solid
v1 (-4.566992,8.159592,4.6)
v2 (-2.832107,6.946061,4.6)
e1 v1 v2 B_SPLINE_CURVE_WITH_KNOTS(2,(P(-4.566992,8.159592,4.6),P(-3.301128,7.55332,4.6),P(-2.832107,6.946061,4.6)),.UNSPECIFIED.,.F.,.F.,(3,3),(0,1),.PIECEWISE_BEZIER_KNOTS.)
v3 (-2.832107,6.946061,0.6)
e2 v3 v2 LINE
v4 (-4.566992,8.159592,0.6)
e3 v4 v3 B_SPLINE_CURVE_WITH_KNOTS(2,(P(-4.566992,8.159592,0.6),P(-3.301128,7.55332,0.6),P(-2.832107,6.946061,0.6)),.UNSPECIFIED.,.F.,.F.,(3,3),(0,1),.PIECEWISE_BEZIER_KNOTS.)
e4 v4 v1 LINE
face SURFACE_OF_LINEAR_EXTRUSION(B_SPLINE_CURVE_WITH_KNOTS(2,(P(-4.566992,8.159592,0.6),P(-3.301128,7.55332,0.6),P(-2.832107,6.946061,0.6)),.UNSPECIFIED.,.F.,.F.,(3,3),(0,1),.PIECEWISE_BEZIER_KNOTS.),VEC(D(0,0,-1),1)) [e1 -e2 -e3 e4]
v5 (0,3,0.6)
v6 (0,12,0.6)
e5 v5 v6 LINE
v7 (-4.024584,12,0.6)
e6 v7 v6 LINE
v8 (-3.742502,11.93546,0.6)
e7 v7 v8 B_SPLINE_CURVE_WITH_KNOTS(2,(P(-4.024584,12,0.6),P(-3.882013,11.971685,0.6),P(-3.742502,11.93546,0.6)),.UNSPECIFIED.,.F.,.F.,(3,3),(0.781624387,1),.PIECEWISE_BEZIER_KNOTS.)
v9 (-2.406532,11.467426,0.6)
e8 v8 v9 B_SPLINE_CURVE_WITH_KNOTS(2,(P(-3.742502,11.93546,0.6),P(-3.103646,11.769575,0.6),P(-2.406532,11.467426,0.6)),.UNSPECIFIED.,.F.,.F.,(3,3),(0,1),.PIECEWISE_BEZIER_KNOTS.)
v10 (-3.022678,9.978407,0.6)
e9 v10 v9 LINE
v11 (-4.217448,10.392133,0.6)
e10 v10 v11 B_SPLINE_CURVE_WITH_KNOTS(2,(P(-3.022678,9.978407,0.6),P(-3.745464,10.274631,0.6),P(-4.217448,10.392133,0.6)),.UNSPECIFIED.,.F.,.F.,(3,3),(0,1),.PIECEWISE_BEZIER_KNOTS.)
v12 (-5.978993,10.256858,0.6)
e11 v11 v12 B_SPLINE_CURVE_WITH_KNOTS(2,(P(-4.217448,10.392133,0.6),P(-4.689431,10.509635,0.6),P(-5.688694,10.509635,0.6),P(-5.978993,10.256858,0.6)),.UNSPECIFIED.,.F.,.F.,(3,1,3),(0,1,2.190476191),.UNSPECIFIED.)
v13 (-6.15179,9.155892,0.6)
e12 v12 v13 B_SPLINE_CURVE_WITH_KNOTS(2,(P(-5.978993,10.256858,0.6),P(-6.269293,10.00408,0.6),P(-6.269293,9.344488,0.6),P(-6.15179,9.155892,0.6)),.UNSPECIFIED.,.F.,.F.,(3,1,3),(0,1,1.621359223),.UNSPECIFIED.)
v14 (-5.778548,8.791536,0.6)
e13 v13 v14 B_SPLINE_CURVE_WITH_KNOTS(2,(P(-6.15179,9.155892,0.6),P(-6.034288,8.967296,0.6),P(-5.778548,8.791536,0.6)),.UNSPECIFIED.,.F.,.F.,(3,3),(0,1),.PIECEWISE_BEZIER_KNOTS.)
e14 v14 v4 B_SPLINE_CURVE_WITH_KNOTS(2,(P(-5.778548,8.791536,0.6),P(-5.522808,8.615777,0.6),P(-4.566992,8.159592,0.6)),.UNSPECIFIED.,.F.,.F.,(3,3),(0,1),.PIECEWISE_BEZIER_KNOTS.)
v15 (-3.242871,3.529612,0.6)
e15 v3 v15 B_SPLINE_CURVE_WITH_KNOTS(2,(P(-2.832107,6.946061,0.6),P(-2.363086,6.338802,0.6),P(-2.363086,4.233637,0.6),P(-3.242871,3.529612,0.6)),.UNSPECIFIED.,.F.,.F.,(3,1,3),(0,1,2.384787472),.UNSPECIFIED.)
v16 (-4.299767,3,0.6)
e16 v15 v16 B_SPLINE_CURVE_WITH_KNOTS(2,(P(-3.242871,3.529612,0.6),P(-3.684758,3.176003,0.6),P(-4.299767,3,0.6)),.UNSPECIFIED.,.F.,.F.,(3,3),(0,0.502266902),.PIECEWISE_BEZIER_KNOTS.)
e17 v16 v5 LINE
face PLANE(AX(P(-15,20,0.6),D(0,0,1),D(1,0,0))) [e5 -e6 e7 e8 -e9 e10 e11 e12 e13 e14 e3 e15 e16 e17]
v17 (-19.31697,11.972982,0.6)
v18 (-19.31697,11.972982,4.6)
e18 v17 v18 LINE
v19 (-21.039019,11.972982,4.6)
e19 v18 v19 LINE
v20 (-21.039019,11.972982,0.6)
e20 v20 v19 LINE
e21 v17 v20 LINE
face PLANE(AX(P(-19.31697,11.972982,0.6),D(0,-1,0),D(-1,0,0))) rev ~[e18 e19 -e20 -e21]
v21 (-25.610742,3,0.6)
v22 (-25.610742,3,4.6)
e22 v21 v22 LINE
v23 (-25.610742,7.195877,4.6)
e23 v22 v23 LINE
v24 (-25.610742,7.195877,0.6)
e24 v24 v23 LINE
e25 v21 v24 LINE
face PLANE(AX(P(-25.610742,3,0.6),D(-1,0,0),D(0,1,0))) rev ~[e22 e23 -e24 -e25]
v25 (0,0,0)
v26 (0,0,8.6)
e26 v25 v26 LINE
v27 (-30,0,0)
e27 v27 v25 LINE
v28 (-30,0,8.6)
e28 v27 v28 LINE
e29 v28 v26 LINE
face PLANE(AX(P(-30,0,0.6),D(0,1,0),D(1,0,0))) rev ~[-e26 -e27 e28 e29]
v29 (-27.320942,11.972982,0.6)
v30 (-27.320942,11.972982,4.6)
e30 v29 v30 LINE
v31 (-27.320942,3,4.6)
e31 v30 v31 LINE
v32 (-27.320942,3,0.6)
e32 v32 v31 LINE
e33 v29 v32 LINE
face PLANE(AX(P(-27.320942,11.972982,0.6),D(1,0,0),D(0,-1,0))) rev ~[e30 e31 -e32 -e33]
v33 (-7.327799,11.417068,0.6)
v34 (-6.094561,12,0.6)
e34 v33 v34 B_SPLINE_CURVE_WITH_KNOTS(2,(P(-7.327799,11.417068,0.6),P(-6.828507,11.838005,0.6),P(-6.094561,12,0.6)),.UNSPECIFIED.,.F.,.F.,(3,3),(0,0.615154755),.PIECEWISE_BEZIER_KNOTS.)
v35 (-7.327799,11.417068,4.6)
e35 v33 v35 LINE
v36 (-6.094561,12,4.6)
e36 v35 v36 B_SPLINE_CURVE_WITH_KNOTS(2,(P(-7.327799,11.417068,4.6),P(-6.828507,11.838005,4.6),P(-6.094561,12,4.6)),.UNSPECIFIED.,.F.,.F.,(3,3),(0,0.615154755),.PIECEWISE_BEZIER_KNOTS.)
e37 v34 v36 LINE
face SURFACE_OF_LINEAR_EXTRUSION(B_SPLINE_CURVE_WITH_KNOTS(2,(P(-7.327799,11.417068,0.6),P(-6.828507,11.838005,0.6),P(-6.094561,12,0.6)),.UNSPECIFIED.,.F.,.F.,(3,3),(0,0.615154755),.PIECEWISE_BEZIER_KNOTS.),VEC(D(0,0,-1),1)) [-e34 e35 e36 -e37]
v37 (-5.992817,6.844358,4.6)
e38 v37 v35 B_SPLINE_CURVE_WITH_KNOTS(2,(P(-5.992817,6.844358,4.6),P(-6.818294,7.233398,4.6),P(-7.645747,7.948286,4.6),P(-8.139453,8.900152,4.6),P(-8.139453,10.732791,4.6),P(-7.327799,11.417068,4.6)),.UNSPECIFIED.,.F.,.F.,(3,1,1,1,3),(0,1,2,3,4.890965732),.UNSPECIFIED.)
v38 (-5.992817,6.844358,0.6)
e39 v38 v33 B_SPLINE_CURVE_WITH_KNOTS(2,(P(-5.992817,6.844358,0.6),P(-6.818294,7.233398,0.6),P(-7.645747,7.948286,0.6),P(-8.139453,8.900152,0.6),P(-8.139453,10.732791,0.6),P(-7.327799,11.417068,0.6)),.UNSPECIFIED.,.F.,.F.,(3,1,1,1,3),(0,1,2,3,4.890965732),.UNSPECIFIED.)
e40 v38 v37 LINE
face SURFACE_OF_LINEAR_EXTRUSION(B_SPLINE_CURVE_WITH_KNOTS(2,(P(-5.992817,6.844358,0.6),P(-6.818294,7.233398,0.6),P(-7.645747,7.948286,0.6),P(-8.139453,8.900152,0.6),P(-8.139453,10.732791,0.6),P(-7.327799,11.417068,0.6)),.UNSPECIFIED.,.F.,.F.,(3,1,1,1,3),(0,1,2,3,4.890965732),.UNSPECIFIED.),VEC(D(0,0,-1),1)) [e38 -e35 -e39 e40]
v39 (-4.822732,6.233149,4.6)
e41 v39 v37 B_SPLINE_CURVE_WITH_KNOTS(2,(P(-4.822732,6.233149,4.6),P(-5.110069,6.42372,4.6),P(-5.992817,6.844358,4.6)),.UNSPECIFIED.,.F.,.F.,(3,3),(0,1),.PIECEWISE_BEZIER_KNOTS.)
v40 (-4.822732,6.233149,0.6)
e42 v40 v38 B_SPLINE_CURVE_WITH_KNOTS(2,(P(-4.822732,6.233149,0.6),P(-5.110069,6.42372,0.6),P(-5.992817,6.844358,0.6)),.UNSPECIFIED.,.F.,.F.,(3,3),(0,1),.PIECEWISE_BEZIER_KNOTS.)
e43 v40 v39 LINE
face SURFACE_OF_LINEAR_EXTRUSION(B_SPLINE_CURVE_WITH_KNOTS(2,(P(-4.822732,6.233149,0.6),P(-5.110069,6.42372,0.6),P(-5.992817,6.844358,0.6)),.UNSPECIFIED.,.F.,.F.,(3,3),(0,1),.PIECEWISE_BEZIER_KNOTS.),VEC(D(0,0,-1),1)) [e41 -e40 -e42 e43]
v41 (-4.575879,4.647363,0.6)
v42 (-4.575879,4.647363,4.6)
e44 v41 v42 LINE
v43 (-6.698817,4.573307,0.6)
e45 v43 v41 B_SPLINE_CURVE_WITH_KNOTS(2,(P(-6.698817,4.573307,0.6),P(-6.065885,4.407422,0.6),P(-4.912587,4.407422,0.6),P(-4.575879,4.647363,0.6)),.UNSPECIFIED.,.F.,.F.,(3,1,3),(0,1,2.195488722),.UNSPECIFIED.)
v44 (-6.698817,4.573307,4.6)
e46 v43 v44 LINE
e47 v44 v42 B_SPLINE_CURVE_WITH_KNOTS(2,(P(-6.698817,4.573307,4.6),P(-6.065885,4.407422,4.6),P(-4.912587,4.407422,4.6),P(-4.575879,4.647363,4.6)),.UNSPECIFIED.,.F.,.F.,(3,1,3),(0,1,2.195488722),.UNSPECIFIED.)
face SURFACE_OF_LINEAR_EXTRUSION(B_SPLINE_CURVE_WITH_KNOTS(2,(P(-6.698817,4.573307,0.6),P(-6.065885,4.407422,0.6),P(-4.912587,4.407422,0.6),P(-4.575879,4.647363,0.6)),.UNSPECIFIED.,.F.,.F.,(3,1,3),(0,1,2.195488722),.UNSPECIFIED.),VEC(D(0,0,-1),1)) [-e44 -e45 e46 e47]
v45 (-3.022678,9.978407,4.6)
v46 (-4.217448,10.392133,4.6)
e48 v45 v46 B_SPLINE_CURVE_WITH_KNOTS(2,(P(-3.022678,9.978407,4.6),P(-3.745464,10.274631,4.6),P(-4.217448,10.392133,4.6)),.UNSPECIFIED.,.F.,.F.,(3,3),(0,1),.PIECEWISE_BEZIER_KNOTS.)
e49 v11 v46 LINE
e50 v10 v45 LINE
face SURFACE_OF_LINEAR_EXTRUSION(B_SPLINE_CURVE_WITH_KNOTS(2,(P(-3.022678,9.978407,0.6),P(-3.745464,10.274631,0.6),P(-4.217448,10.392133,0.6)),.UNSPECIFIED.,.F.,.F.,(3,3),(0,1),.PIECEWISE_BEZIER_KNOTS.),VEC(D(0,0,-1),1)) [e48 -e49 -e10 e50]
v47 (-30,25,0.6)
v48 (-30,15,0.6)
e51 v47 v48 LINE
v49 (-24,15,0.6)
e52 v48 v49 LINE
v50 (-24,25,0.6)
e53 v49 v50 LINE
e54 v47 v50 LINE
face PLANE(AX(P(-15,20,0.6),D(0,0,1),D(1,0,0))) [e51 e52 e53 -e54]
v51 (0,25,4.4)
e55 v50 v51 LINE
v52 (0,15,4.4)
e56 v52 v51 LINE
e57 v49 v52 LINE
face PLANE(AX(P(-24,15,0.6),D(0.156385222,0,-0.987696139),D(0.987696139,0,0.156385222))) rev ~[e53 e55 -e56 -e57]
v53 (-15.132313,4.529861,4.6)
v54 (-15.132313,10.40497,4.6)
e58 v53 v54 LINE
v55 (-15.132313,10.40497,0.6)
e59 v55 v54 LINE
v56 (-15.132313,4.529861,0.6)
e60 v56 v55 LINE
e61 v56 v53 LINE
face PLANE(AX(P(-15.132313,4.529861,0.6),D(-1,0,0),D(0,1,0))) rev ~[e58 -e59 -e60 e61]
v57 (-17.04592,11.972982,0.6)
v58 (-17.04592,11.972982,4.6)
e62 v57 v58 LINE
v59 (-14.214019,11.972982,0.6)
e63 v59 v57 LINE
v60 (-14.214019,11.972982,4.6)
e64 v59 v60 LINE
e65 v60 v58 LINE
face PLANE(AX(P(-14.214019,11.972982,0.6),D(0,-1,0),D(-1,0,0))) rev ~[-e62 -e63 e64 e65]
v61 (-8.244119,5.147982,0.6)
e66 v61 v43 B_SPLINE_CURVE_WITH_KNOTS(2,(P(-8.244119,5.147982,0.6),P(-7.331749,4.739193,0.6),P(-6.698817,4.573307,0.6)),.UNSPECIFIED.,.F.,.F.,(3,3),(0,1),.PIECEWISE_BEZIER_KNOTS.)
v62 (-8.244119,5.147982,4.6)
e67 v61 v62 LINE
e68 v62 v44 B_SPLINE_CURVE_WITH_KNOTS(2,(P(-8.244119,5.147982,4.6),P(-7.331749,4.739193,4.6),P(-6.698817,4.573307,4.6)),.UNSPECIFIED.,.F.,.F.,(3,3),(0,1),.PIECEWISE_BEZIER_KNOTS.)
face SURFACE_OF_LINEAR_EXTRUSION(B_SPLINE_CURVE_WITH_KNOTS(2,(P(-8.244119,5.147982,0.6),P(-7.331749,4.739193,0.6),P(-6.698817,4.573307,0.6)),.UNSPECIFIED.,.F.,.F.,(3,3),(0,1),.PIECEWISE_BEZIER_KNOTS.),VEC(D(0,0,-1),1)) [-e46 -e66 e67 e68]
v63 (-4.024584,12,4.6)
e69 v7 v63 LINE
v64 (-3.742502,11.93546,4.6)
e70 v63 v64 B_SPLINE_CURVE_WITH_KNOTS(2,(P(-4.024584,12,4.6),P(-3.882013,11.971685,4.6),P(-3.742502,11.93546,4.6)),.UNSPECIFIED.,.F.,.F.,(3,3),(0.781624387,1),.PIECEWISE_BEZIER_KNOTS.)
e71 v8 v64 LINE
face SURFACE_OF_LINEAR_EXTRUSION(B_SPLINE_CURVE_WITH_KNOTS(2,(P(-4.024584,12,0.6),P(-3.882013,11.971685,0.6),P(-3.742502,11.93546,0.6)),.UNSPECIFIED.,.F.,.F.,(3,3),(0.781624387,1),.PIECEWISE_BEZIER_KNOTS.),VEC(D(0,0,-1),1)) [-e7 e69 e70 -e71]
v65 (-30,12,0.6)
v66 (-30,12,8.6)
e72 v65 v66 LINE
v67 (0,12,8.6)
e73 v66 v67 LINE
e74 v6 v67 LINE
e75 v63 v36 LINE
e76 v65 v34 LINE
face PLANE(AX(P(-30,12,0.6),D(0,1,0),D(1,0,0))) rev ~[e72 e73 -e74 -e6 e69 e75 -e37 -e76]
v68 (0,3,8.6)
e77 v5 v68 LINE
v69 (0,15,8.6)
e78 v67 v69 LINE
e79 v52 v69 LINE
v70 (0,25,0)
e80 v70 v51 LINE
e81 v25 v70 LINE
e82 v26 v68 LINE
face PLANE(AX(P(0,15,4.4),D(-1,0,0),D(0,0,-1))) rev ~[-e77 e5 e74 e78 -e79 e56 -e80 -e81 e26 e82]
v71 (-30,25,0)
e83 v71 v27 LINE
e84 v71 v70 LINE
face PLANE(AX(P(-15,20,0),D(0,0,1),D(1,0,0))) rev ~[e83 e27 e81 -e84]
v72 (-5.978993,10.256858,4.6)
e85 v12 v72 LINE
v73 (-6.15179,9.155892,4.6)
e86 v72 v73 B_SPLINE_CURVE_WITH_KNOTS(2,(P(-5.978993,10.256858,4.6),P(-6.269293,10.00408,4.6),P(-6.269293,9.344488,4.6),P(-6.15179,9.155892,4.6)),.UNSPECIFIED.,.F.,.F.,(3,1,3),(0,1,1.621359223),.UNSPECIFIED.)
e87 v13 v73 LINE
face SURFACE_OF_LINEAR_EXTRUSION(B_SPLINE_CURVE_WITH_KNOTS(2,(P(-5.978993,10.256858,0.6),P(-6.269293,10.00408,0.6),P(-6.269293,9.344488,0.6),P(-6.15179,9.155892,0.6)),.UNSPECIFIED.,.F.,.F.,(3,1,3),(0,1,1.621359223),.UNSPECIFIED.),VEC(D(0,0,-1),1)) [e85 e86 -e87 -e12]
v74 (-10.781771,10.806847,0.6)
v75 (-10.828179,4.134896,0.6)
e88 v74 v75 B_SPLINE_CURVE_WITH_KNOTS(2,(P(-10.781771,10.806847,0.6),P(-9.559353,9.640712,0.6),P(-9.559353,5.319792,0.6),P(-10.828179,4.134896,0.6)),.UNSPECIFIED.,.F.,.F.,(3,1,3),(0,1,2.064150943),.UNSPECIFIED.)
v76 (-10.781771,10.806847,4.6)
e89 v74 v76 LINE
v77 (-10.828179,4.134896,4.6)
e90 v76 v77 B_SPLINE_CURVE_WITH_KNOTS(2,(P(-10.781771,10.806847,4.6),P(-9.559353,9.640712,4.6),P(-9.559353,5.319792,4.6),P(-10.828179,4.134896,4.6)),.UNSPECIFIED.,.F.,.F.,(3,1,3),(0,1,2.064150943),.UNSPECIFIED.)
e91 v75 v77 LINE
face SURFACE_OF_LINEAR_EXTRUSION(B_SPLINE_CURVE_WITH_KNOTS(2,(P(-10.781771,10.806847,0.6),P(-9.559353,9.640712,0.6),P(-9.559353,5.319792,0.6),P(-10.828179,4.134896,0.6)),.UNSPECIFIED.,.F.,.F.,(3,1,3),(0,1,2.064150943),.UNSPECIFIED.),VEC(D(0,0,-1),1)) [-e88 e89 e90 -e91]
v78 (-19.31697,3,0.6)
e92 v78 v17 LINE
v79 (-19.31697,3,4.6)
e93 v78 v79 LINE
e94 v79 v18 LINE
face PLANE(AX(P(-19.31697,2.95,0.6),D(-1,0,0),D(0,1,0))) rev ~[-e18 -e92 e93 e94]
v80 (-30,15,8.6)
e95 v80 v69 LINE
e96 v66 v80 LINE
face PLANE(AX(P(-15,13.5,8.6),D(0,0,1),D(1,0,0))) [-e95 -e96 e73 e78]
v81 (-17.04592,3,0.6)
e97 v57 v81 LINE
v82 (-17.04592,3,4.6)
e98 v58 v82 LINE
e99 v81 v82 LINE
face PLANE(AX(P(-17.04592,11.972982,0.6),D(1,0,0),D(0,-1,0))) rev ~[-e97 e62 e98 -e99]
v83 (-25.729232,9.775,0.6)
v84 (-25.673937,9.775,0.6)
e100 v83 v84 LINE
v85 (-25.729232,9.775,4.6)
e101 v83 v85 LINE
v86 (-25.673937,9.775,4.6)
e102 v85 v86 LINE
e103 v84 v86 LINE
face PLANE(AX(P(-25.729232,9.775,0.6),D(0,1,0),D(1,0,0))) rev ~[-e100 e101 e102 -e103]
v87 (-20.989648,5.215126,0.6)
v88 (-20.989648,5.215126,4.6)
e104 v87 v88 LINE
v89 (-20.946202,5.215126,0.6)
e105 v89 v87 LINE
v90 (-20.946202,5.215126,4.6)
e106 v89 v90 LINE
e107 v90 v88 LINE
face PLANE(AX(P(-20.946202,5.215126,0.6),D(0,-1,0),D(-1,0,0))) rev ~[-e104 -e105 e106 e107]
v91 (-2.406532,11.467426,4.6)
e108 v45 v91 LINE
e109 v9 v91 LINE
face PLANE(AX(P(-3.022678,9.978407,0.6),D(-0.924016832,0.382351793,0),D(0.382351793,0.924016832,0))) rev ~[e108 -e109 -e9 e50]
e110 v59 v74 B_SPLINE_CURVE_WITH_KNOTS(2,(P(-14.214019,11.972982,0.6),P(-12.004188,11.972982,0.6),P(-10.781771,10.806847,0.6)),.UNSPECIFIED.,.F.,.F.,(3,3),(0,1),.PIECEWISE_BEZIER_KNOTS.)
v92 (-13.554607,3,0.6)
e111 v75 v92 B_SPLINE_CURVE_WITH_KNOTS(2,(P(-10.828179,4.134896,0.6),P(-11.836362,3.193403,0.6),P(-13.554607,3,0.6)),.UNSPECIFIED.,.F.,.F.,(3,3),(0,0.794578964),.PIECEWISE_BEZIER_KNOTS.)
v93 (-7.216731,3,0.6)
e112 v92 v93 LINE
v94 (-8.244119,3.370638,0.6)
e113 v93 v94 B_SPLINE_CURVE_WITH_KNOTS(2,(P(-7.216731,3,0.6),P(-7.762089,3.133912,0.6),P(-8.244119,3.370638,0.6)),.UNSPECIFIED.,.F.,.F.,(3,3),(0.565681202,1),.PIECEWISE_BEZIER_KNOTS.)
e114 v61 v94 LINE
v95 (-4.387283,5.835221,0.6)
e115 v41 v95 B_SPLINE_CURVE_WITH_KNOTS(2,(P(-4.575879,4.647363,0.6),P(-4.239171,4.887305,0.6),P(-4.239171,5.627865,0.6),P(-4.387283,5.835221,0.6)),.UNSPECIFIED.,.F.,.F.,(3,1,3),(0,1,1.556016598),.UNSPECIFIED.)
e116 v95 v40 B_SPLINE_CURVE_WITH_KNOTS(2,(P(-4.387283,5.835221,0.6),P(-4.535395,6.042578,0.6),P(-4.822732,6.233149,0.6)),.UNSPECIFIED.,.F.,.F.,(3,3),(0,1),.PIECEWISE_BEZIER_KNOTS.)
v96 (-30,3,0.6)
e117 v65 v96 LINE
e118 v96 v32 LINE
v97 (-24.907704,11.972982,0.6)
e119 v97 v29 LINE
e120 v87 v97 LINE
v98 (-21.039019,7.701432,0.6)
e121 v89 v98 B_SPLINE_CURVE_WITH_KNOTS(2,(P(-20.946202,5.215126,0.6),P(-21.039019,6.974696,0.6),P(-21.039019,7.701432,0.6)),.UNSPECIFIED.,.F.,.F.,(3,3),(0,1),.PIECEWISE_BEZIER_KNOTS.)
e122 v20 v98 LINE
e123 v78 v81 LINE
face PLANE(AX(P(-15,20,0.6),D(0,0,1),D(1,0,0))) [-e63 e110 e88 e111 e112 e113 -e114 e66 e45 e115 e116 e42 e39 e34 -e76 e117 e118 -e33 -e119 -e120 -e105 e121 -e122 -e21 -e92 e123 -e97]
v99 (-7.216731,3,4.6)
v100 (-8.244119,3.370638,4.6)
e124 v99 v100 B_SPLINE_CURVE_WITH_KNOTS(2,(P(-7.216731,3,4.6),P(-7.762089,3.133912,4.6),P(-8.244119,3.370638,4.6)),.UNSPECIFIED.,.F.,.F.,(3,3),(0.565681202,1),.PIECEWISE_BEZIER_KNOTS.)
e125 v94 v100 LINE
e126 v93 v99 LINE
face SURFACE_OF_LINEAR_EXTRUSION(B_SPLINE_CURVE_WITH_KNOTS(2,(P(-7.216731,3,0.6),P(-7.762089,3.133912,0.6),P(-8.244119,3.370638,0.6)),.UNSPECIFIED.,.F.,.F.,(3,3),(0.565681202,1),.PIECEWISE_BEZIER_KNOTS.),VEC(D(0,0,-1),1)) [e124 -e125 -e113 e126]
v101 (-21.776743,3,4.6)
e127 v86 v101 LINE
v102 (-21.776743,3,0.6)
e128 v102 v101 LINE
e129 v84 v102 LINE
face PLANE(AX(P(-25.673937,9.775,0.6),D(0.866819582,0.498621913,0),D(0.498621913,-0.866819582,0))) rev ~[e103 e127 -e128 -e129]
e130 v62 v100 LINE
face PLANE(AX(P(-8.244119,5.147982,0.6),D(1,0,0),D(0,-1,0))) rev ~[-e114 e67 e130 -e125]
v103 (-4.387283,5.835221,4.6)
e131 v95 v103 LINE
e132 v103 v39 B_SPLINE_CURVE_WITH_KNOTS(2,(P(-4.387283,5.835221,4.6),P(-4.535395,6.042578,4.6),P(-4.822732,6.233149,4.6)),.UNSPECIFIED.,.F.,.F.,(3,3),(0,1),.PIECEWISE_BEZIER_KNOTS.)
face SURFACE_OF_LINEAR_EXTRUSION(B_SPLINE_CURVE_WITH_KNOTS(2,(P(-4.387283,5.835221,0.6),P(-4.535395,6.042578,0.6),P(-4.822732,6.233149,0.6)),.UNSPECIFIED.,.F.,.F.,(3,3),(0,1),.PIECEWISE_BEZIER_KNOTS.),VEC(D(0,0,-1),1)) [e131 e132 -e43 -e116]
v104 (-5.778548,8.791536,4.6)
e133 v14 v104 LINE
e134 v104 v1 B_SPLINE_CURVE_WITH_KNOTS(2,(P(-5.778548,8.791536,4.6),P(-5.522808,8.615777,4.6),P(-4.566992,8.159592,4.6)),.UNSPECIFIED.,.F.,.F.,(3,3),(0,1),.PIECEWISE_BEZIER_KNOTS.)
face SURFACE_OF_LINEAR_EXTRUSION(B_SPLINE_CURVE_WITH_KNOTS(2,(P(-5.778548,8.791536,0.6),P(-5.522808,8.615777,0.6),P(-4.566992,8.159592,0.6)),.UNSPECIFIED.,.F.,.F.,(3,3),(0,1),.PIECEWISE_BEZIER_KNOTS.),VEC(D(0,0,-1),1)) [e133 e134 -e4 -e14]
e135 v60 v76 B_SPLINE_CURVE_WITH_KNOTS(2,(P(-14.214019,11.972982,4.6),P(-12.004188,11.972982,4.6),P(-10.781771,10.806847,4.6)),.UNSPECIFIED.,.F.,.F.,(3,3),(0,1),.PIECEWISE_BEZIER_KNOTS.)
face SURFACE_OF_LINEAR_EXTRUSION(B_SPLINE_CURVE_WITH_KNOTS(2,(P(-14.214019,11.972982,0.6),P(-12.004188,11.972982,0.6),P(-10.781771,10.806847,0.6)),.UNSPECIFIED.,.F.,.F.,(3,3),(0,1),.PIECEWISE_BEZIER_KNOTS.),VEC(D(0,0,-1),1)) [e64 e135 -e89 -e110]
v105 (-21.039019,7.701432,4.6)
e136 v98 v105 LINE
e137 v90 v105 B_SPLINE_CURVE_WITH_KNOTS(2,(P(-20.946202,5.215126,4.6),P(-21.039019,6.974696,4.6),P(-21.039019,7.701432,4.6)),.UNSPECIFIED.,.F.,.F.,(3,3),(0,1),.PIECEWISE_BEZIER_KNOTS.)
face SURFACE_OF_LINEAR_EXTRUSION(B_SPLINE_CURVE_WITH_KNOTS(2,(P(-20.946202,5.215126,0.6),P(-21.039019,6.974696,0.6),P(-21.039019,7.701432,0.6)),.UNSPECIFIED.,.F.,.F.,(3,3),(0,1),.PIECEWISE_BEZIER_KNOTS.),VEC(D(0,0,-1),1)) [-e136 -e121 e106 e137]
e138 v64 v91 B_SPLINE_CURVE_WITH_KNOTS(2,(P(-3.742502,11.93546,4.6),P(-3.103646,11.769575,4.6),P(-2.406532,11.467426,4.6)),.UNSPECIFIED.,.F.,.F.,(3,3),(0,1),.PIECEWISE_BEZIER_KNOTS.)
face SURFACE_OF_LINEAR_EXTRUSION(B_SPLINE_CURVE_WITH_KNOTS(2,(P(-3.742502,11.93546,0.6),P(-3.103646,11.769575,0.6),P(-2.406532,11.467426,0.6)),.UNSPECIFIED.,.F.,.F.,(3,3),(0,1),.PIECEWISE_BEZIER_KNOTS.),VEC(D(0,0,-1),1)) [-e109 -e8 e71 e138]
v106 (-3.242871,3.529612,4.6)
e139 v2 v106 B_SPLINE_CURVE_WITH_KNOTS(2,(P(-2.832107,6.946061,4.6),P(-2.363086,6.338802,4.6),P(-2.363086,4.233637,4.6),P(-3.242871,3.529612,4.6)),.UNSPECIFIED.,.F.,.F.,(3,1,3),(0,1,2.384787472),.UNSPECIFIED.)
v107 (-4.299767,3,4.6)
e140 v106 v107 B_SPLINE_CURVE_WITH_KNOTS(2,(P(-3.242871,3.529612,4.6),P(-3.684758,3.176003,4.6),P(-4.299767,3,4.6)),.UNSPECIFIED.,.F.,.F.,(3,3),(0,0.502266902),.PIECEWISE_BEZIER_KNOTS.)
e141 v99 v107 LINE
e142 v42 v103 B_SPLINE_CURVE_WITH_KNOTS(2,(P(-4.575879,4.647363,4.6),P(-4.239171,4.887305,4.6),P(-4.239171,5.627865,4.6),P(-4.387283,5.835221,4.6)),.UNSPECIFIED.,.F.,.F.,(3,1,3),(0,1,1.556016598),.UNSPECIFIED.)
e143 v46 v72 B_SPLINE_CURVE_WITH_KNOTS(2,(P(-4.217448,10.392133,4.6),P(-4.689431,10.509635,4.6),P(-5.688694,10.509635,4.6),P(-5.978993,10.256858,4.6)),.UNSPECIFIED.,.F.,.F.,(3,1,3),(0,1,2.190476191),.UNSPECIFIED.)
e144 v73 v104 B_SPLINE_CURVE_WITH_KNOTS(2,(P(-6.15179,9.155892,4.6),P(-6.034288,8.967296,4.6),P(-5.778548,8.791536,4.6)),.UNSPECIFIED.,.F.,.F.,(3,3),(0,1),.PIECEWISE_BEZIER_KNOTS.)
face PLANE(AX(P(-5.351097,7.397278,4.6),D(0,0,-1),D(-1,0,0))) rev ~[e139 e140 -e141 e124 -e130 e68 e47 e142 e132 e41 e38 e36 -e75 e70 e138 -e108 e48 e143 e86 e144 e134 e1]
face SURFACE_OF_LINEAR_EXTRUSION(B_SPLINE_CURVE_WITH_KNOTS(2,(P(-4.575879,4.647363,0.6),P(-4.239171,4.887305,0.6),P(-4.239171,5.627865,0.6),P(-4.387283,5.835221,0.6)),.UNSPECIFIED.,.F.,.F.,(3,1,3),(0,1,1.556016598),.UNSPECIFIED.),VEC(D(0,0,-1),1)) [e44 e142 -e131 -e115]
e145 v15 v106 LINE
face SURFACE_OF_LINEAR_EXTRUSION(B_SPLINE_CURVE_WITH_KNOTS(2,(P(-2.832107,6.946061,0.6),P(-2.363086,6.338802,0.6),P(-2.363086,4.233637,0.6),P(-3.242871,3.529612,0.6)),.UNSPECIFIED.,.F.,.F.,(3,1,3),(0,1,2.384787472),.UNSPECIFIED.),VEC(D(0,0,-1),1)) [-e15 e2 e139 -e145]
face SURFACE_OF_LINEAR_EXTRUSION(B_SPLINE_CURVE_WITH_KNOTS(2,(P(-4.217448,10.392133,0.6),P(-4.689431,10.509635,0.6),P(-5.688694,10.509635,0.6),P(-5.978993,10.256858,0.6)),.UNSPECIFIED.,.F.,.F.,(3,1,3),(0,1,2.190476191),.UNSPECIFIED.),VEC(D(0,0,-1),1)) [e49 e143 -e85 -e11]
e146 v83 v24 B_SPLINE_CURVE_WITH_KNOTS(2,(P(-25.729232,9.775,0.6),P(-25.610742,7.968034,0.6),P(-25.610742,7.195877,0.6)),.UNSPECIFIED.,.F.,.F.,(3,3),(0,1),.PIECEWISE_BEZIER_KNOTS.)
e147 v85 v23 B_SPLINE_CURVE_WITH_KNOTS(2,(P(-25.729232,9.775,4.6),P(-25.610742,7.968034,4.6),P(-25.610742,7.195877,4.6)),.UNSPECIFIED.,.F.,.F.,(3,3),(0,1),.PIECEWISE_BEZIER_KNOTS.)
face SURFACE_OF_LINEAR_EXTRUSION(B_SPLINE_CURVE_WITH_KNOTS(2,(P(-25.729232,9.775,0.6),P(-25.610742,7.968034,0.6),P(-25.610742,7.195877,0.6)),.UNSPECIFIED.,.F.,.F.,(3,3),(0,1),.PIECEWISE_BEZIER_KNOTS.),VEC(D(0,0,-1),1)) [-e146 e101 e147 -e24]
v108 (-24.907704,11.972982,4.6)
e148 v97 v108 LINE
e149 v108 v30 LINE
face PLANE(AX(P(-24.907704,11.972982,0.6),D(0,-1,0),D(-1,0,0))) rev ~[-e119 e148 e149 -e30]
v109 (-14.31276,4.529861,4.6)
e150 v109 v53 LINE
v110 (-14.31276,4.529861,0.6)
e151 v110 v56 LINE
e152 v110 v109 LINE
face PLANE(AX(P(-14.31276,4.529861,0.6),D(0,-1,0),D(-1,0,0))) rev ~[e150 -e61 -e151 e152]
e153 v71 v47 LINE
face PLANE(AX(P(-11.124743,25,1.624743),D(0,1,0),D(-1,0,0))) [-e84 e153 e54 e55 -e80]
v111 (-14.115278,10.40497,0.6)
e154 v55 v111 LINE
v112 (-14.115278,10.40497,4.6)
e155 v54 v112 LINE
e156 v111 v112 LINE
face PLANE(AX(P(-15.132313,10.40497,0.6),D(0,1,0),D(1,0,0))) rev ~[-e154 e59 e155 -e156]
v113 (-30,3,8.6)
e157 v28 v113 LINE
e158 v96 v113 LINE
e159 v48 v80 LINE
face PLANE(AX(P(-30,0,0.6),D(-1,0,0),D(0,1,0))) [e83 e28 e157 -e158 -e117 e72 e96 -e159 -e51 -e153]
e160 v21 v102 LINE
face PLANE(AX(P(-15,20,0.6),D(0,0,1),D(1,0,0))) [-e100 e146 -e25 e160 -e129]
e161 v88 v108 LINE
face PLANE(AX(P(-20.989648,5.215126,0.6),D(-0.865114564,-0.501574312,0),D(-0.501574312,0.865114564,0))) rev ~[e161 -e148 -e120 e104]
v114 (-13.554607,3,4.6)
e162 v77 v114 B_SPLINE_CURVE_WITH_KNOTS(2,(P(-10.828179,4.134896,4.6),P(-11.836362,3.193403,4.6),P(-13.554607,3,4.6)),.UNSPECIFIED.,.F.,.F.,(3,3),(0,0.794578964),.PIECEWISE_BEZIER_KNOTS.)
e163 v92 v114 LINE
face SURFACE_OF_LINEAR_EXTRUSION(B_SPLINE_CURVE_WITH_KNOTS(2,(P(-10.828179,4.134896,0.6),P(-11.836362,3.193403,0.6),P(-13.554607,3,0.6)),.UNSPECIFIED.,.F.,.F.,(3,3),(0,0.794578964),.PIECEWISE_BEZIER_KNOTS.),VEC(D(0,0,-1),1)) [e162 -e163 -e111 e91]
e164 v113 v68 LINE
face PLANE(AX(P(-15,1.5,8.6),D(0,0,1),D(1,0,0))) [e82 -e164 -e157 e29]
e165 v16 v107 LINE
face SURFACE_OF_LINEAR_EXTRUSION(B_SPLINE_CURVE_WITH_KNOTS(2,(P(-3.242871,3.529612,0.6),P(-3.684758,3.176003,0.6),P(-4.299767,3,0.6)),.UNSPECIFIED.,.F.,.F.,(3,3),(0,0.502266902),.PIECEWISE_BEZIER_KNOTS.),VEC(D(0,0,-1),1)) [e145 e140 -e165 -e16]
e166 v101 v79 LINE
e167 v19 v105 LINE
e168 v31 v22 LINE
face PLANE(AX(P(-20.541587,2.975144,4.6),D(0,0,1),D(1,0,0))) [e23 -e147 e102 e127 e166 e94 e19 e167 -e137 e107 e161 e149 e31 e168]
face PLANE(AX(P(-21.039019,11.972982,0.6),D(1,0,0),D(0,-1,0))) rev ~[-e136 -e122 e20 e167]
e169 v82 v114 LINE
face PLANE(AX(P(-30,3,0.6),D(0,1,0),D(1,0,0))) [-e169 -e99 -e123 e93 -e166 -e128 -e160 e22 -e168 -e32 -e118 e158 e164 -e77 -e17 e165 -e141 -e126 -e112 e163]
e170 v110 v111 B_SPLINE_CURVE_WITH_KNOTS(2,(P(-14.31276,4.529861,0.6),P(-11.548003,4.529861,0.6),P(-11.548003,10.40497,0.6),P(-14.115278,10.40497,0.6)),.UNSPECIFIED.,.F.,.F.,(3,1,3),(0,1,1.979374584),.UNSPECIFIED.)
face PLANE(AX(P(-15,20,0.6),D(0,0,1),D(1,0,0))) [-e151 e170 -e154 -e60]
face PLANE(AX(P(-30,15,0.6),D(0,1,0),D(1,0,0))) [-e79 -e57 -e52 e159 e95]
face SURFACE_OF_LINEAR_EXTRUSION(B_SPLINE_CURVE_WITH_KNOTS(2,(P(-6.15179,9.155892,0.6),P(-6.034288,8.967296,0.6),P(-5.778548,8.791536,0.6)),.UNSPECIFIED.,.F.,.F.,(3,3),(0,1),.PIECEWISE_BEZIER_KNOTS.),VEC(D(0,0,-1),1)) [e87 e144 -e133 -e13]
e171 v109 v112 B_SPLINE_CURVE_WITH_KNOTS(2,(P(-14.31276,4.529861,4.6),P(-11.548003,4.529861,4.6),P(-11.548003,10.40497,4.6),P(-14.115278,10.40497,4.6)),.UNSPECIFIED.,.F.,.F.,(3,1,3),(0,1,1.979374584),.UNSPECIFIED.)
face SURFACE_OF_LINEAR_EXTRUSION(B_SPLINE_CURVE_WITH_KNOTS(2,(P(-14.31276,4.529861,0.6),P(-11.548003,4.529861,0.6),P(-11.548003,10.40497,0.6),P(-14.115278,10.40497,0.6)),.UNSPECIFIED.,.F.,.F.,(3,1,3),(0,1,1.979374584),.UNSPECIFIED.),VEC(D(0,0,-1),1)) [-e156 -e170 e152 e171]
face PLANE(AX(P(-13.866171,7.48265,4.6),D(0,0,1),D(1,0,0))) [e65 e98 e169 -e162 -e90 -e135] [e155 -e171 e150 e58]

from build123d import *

# Parameters (mm, degrees)
F0_W     = 30
F0_H     = 10
F0_H_2   = 15
F1_DEPTH = 0.6
F2_W     = 30
F2_H     = 3
F3_DEPTH = 8
F5_DEPTH = 10
F7_DEPTH = 4


with BuildPart() as f1:
    # F0 (on Top) → F1 (new body)
    with BuildSketch(Plane.XY):
        with Locations((-15, 20)):
            Rectangle(F0_W, F0_H)
        with Locations((-15, 7.5)):
            Rectangle(F0_W, F0_H_2)
    extrude(amount=F1_DEPTH)

    # F2 (on face) → F3 (join)
    with BuildSketch(Plane.XY.offset(0.6)):
        with Locations((-15, 13.5)):
            Rectangle(F2_W, F2_H)
        with Locations((-15, 1.5)):
            Rectangle(F2_W, F2_H)
    extrude(amount=F3_DEPTH)

    # F4 (on face) → F5 (join)
    with BuildSketch(Plane(origin=(0, 15, 0), x_dir=(-1, 0, 0), z_dir=(0, 1, 0))):
        Polygon((24, 0.6), (0, 4.4), (0, 0.6), align=None)
    extrude(amount=F5_DEPTH)

    # F6 (on face) → F7 (join)
    with BuildSketch(Plane.XY.offset(0.6)):
        Polygon((-21.7479817708, 2.95), (-19.3169704861, 2.95), (-19.3169704861, 3), (-21.7767433449, 3), align=None)
        with BuildLine():
            Line((-17.0459201389, 11.9729817708), (-17.0459201389, 3))
            Line((-17.0459201389, 3), (-13.5546069033, 3))
            add(Edge.make_bspline(
                [(-10.8281792535, 4.1348958333), (-11.8363616657, 3.1934025301), (-13.5546069033, 3)],
                knots=[0, 0, 0, 0.7945789636, 0.7945789636, 0.7945789636], degree=2))
            add(Edge.make_bspline(
                [(-9.5593532986, 7.5473958333), (-9.5593532986, 5.3197916667), (-10.8281792535, 4.1348958333)],
                knots=[0, 0, 0, 1, 1, 1], degree=2))
            add(Edge.make_bspline(
                [(-10.7817708333, 10.8068467882), (-9.5593532986, 9.6407118056), (-9.5593532986, 7.5473958333)],
                knots=[0, 0, 0, 1, 1, 1], degree=2))
            add(Edge.make_bspline(
                [(-14.2140190972, 11.9729817708), (-12.0041883681, 11.9729817708), (-10.7817708333, 10.8068467882)],
                knots=[0, 0, 0, 1, 1, 1], degree=2))
            Line((-14.2140190972, 11.9729817708), (-17.0459201389, 11.9729817708))
        make_face()
        with BuildLine():
            add(Edge.make_bspline(
                [(-11.5480034722, 7.4980251736), (-11.5480034722, 10.4049696181), (-14.1152777778, 10.4049696181)],
                knots=[0, 0, 0, 1, 1, 1], degree=2))
            add(Edge.make_bspline(
                [(-14.3127604167, 4.5298611111), (-11.5480034722, 4.5298611111), (-11.5480034722, 7.4980251736)],
                knots=[0, 0, 0, 1, 1, 1], degree=2))
            Line((-14.3127604167, 4.5298611111), (-15.1323133681, 4.5298611111))
            Line((-15.1323133681, 4.5298611111), (-15.1323133681, 10.4049696181))
            Line((-15.1323133681, 10.4049696181), (-14.1152777778, 10.4049696181))
        make_face(mode=Mode.SUBTRACT)
        with BuildLine():
            add(Edge.make_bspline(
                [(-7.2167314747, 3), (-7.7620891499, 3.1339116551), (-8.2441189236, 3.3706380208)],
                knots=[0.5656812019, 0.5656812019, 0.5656812019, 1, 1, 1], degree=2))
            Line((-7.2167314747, 3), (-4.2997672598, 3))
            add(Edge.make_bspline(
                [(-3.2428710938, 3.5296115451), (-3.6847580589, 3.176002784), (-4.2997672598, 3)],
                knots=[0, 0, 0, 0.5022669023, 0.5022669023, 0.5022669023], degree=2))
            add(Edge.make_bspline(
                [(-2.3630859375, 5.4560546875), (-2.3630859375, 4.2336371528), (-3.2428710938, 3.5296115451)],
                knots=[0, 0, 0, 1, 1, 1], degree=2))
            add(Edge.make_bspline(
                [(-2.8321072049, 6.9460611979), (-2.3630859375, 6.3388020833), (-2.3630859375, 5.4560546875)],
                knots=[0, 0, 0, 1, 1, 1], degree=2))
            add(Edge.make_bspline(
                [(-4.5669921875, 8.1595920139), (-3.3011284722, 7.5533203125), (-2.8321072049, 6.9460611979)],
                knots=[0, 0, 0, 1, 1, 1], degree=2))
            add(Edge.make_bspline(
                [(-5.7785481771, 8.7915364583), (-5.5228081597, 8.6157769097), (-4.5669921875, 8.1595920139)],
                knots=[0, 0, 0, 1, 1, 1], degree=2))
            add(Edge.make_bspline(
                [(-6.1517903646, 9.1558919271), (-6.0342881944, 8.9672960069), (-5.7785481771, 8.7915364583)],
                knots=[0, 0, 0, 1, 1, 1], degree=2))
            add(Edge.make_bspline(
                [(-6.2692925347, 9.597265625), (-6.2692925347, 9.3444878472), (-6.1517903646, 9.1558919271)],
                knots=[0, 0, 0, 1, 1, 1], degree=2))
            add(Edge.make_bspline(
                [(-5.9789930556, 10.2568576389), (-6.2692925347, 10.0040798611), (-6.2692925347, 9.597265625)],
                knots=[0, 0, 0, 1, 1, 1], degree=2))
            add(Edge.make_bspline(
                [(-5.1456163194, 10.5096354167), (-5.6886935764, 10.5096354167), (-5.9789930556, 10.2568576389)],
                knots=[0, 0, 0, 1, 1, 1], degree=2))
            add(Edge.make_bspline(
                [(-4.2174479167, 10.3921332465), (-4.6894314236, 10.5096354167), (-5.1456163194, 10.5096354167)],
                knots=[0, 0, 0, 1, 1, 1], degree=2))
            add(Edge.make_bspline(
                [(-3.0226779514, 9.9784071181), (-3.7454644097, 10.2746310764), (-4.2174479167, 10.3921332465)],
                knots=[0, 0, 0, 1, 1, 1], degree=2))
            Line((-3.0226779514, 9.9784071181), (-2.4065321181, 11.4674262153))
            add(Edge.make_bspline(
                [(-3.7425021701, 11.9354600694), (-3.1036458333, 11.7695746528), (-2.4065321181, 11.4674262153)],
                knots=[0, 0, 0, 1, 1, 1], degree=2))
            add(Edge.make_bspline(
                [(-4.024584157, 12), (-3.8820128143, 11.971685399), (-3.7425021701, 11.9354600694)],
                knots=[0.781624387, 0.781624387, 0.781624387, 1, 1, 1], degree=2))
            Line((-4.024584157, 12), (-6.0945606148, 12))
            add(Edge.make_bspline(
                [(-7.3277994792, 11.4170681424), (-6.8285068793, 11.8380046043), (-6.0945606148, 12)],
                knots=[0, 0, 0, 0.6151547553, 0.6151547553, 0.6151547553], degree=2))
            add(Edge.make_bspline(
                [(-8.139453125, 9.5340711806), (-8.139453125, 10.7327907986), (-7.3277994792, 11.4170681424)],
                knots=[0, 0, 0, 1, 1, 1], degree=2))
            add(Edge.make_bspline(
                [(-7.8925998264, 8.42421875), (-8.139453125, 8.9001519097), (-8.139453125, 9.5340711806)],
                knots=[0, 0, 0, 1, 1, 1], degree=2))
            add(Edge.make_bspline(
                [(-7.2320203993, 7.5908420139), (-7.6457465278, 7.9482855903), (-7.8925998264, 8.42421875)],
                knots=[0, 0, 0, 1, 1, 1], degree=2))
            add(Edge.make_bspline(
                [(-5.9928168403, 6.8443576389), (-6.8182942708, 7.2333984375), (-7.2320203993, 7.5908420139)],
                knots=[0, 0, 0, 1, 1, 1], degree=2))
            add(Edge.make_bspline(
                [(-4.8227322049, 6.2331488715), (-5.1100694444, 6.4237196181), (-5.9928168403, 6.8443576389)],
                knots=[0, 0, 0, 1, 1, 1], degree=2))
            add(Edge.make_bspline(
                [(-4.3872829861, 5.8352213542), (-4.5353949653, 6.042578125), (-4.8227322049, 6.2331488715)],
                knots=[0, 0, 0, 1, 1, 1], degree=2))
            add(Edge.make_bspline(
                [(-4.2391710069, 5.3632378472), (-4.2391710069, 5.6278645833), (-4.3872829861, 5.8352213542)],
                knots=[0, 0, 0, 1, 1, 1], degree=2))
            add(Edge.make_bspline(
                [(-4.5758789063, 4.6473632812), (-4.2391710069, 4.8873046875), (-4.2391710069, 5.3632378472)],
                knots=[0, 0, 0, 1, 1, 1], degree=2))
            add(Edge.make_bspline(
                [(-5.5405815972, 4.407421875), (-4.9125868056, 4.407421875), (-4.5758789063, 4.6473632812)],
                knots=[0, 0, 0, 1, 1, 1], degree=2))
            add(Edge.make_bspline(
                [(-6.6988172743, 4.5733072917), (-6.0658854167, 4.407421875), (-5.5405815972, 4.407421875)],
                knots=[0, 0, 0, 1, 1, 1], degree=2))
            add(Edge.make_bspline(
                [(-8.2441189236, 5.1479817708), (-7.3317491319, 4.7391927083), (-6.6988172743, 4.5733072917)],
                knots=[0, 0, 0, 1, 1, 1], degree=2))
            Line((-8.2441189236, 5.1479817708), (-8.2441189236, 3.3706380208))
        make_face()
        with BuildLine():
            Line((-21.7767433449, 3), (-19.3169704861, 3))
            Line((-19.3169704861, 3), (-19.3169704861, 11.9729817708))
            Line((-19.3169704861, 11.9729817708), (-21.0390190972, 11.9729817708))
            Line((-21.0390190972, 11.9729817708), (-21.0390190972, 7.7014322917))
            add(Edge.make_bspline(
                [(-20.9462022569, 5.2151258681), (-21.0390190972, 6.9746961806), (-21.0390190972, 7.7014322917)],
                knots=[0, 0, 0, 1, 1, 1], degree=2))
            Line((-20.9462022569, 5.2151258681), (-20.9896484375, 5.2151258681))
            Line((-20.9896484375, 5.2151258681), (-24.9077039931, 11.9729817708))
            Line((-24.9077039931, 11.9729817708), (-27.3209418403, 11.9729817708))
            Line((-27.3209418403, 11.9729817708), (-27.3209418403, 3))
            Line((-27.3209418403, 3), (-25.6107421875, 3))
            Line((-25.6107421875, 3), (-25.6107421875, 7.1958767361))
            add(Edge.make_bspline(
                [(-25.7292317708, 9.775), (-25.6107421875, 7.9680338542), (-25.6107421875, 7.1958767361)],
                knots=[0, 0, 0, 1, 1, 1], degree=2))
            Line((-25.7292317708, 9.775), (-25.6739366319, 9.775))
            Line((-25.6739366319, 9.775), (-21.7767433449, 3))
        make_face()
    extrude(amount=F7_DEPTH)


solid = f1.part
